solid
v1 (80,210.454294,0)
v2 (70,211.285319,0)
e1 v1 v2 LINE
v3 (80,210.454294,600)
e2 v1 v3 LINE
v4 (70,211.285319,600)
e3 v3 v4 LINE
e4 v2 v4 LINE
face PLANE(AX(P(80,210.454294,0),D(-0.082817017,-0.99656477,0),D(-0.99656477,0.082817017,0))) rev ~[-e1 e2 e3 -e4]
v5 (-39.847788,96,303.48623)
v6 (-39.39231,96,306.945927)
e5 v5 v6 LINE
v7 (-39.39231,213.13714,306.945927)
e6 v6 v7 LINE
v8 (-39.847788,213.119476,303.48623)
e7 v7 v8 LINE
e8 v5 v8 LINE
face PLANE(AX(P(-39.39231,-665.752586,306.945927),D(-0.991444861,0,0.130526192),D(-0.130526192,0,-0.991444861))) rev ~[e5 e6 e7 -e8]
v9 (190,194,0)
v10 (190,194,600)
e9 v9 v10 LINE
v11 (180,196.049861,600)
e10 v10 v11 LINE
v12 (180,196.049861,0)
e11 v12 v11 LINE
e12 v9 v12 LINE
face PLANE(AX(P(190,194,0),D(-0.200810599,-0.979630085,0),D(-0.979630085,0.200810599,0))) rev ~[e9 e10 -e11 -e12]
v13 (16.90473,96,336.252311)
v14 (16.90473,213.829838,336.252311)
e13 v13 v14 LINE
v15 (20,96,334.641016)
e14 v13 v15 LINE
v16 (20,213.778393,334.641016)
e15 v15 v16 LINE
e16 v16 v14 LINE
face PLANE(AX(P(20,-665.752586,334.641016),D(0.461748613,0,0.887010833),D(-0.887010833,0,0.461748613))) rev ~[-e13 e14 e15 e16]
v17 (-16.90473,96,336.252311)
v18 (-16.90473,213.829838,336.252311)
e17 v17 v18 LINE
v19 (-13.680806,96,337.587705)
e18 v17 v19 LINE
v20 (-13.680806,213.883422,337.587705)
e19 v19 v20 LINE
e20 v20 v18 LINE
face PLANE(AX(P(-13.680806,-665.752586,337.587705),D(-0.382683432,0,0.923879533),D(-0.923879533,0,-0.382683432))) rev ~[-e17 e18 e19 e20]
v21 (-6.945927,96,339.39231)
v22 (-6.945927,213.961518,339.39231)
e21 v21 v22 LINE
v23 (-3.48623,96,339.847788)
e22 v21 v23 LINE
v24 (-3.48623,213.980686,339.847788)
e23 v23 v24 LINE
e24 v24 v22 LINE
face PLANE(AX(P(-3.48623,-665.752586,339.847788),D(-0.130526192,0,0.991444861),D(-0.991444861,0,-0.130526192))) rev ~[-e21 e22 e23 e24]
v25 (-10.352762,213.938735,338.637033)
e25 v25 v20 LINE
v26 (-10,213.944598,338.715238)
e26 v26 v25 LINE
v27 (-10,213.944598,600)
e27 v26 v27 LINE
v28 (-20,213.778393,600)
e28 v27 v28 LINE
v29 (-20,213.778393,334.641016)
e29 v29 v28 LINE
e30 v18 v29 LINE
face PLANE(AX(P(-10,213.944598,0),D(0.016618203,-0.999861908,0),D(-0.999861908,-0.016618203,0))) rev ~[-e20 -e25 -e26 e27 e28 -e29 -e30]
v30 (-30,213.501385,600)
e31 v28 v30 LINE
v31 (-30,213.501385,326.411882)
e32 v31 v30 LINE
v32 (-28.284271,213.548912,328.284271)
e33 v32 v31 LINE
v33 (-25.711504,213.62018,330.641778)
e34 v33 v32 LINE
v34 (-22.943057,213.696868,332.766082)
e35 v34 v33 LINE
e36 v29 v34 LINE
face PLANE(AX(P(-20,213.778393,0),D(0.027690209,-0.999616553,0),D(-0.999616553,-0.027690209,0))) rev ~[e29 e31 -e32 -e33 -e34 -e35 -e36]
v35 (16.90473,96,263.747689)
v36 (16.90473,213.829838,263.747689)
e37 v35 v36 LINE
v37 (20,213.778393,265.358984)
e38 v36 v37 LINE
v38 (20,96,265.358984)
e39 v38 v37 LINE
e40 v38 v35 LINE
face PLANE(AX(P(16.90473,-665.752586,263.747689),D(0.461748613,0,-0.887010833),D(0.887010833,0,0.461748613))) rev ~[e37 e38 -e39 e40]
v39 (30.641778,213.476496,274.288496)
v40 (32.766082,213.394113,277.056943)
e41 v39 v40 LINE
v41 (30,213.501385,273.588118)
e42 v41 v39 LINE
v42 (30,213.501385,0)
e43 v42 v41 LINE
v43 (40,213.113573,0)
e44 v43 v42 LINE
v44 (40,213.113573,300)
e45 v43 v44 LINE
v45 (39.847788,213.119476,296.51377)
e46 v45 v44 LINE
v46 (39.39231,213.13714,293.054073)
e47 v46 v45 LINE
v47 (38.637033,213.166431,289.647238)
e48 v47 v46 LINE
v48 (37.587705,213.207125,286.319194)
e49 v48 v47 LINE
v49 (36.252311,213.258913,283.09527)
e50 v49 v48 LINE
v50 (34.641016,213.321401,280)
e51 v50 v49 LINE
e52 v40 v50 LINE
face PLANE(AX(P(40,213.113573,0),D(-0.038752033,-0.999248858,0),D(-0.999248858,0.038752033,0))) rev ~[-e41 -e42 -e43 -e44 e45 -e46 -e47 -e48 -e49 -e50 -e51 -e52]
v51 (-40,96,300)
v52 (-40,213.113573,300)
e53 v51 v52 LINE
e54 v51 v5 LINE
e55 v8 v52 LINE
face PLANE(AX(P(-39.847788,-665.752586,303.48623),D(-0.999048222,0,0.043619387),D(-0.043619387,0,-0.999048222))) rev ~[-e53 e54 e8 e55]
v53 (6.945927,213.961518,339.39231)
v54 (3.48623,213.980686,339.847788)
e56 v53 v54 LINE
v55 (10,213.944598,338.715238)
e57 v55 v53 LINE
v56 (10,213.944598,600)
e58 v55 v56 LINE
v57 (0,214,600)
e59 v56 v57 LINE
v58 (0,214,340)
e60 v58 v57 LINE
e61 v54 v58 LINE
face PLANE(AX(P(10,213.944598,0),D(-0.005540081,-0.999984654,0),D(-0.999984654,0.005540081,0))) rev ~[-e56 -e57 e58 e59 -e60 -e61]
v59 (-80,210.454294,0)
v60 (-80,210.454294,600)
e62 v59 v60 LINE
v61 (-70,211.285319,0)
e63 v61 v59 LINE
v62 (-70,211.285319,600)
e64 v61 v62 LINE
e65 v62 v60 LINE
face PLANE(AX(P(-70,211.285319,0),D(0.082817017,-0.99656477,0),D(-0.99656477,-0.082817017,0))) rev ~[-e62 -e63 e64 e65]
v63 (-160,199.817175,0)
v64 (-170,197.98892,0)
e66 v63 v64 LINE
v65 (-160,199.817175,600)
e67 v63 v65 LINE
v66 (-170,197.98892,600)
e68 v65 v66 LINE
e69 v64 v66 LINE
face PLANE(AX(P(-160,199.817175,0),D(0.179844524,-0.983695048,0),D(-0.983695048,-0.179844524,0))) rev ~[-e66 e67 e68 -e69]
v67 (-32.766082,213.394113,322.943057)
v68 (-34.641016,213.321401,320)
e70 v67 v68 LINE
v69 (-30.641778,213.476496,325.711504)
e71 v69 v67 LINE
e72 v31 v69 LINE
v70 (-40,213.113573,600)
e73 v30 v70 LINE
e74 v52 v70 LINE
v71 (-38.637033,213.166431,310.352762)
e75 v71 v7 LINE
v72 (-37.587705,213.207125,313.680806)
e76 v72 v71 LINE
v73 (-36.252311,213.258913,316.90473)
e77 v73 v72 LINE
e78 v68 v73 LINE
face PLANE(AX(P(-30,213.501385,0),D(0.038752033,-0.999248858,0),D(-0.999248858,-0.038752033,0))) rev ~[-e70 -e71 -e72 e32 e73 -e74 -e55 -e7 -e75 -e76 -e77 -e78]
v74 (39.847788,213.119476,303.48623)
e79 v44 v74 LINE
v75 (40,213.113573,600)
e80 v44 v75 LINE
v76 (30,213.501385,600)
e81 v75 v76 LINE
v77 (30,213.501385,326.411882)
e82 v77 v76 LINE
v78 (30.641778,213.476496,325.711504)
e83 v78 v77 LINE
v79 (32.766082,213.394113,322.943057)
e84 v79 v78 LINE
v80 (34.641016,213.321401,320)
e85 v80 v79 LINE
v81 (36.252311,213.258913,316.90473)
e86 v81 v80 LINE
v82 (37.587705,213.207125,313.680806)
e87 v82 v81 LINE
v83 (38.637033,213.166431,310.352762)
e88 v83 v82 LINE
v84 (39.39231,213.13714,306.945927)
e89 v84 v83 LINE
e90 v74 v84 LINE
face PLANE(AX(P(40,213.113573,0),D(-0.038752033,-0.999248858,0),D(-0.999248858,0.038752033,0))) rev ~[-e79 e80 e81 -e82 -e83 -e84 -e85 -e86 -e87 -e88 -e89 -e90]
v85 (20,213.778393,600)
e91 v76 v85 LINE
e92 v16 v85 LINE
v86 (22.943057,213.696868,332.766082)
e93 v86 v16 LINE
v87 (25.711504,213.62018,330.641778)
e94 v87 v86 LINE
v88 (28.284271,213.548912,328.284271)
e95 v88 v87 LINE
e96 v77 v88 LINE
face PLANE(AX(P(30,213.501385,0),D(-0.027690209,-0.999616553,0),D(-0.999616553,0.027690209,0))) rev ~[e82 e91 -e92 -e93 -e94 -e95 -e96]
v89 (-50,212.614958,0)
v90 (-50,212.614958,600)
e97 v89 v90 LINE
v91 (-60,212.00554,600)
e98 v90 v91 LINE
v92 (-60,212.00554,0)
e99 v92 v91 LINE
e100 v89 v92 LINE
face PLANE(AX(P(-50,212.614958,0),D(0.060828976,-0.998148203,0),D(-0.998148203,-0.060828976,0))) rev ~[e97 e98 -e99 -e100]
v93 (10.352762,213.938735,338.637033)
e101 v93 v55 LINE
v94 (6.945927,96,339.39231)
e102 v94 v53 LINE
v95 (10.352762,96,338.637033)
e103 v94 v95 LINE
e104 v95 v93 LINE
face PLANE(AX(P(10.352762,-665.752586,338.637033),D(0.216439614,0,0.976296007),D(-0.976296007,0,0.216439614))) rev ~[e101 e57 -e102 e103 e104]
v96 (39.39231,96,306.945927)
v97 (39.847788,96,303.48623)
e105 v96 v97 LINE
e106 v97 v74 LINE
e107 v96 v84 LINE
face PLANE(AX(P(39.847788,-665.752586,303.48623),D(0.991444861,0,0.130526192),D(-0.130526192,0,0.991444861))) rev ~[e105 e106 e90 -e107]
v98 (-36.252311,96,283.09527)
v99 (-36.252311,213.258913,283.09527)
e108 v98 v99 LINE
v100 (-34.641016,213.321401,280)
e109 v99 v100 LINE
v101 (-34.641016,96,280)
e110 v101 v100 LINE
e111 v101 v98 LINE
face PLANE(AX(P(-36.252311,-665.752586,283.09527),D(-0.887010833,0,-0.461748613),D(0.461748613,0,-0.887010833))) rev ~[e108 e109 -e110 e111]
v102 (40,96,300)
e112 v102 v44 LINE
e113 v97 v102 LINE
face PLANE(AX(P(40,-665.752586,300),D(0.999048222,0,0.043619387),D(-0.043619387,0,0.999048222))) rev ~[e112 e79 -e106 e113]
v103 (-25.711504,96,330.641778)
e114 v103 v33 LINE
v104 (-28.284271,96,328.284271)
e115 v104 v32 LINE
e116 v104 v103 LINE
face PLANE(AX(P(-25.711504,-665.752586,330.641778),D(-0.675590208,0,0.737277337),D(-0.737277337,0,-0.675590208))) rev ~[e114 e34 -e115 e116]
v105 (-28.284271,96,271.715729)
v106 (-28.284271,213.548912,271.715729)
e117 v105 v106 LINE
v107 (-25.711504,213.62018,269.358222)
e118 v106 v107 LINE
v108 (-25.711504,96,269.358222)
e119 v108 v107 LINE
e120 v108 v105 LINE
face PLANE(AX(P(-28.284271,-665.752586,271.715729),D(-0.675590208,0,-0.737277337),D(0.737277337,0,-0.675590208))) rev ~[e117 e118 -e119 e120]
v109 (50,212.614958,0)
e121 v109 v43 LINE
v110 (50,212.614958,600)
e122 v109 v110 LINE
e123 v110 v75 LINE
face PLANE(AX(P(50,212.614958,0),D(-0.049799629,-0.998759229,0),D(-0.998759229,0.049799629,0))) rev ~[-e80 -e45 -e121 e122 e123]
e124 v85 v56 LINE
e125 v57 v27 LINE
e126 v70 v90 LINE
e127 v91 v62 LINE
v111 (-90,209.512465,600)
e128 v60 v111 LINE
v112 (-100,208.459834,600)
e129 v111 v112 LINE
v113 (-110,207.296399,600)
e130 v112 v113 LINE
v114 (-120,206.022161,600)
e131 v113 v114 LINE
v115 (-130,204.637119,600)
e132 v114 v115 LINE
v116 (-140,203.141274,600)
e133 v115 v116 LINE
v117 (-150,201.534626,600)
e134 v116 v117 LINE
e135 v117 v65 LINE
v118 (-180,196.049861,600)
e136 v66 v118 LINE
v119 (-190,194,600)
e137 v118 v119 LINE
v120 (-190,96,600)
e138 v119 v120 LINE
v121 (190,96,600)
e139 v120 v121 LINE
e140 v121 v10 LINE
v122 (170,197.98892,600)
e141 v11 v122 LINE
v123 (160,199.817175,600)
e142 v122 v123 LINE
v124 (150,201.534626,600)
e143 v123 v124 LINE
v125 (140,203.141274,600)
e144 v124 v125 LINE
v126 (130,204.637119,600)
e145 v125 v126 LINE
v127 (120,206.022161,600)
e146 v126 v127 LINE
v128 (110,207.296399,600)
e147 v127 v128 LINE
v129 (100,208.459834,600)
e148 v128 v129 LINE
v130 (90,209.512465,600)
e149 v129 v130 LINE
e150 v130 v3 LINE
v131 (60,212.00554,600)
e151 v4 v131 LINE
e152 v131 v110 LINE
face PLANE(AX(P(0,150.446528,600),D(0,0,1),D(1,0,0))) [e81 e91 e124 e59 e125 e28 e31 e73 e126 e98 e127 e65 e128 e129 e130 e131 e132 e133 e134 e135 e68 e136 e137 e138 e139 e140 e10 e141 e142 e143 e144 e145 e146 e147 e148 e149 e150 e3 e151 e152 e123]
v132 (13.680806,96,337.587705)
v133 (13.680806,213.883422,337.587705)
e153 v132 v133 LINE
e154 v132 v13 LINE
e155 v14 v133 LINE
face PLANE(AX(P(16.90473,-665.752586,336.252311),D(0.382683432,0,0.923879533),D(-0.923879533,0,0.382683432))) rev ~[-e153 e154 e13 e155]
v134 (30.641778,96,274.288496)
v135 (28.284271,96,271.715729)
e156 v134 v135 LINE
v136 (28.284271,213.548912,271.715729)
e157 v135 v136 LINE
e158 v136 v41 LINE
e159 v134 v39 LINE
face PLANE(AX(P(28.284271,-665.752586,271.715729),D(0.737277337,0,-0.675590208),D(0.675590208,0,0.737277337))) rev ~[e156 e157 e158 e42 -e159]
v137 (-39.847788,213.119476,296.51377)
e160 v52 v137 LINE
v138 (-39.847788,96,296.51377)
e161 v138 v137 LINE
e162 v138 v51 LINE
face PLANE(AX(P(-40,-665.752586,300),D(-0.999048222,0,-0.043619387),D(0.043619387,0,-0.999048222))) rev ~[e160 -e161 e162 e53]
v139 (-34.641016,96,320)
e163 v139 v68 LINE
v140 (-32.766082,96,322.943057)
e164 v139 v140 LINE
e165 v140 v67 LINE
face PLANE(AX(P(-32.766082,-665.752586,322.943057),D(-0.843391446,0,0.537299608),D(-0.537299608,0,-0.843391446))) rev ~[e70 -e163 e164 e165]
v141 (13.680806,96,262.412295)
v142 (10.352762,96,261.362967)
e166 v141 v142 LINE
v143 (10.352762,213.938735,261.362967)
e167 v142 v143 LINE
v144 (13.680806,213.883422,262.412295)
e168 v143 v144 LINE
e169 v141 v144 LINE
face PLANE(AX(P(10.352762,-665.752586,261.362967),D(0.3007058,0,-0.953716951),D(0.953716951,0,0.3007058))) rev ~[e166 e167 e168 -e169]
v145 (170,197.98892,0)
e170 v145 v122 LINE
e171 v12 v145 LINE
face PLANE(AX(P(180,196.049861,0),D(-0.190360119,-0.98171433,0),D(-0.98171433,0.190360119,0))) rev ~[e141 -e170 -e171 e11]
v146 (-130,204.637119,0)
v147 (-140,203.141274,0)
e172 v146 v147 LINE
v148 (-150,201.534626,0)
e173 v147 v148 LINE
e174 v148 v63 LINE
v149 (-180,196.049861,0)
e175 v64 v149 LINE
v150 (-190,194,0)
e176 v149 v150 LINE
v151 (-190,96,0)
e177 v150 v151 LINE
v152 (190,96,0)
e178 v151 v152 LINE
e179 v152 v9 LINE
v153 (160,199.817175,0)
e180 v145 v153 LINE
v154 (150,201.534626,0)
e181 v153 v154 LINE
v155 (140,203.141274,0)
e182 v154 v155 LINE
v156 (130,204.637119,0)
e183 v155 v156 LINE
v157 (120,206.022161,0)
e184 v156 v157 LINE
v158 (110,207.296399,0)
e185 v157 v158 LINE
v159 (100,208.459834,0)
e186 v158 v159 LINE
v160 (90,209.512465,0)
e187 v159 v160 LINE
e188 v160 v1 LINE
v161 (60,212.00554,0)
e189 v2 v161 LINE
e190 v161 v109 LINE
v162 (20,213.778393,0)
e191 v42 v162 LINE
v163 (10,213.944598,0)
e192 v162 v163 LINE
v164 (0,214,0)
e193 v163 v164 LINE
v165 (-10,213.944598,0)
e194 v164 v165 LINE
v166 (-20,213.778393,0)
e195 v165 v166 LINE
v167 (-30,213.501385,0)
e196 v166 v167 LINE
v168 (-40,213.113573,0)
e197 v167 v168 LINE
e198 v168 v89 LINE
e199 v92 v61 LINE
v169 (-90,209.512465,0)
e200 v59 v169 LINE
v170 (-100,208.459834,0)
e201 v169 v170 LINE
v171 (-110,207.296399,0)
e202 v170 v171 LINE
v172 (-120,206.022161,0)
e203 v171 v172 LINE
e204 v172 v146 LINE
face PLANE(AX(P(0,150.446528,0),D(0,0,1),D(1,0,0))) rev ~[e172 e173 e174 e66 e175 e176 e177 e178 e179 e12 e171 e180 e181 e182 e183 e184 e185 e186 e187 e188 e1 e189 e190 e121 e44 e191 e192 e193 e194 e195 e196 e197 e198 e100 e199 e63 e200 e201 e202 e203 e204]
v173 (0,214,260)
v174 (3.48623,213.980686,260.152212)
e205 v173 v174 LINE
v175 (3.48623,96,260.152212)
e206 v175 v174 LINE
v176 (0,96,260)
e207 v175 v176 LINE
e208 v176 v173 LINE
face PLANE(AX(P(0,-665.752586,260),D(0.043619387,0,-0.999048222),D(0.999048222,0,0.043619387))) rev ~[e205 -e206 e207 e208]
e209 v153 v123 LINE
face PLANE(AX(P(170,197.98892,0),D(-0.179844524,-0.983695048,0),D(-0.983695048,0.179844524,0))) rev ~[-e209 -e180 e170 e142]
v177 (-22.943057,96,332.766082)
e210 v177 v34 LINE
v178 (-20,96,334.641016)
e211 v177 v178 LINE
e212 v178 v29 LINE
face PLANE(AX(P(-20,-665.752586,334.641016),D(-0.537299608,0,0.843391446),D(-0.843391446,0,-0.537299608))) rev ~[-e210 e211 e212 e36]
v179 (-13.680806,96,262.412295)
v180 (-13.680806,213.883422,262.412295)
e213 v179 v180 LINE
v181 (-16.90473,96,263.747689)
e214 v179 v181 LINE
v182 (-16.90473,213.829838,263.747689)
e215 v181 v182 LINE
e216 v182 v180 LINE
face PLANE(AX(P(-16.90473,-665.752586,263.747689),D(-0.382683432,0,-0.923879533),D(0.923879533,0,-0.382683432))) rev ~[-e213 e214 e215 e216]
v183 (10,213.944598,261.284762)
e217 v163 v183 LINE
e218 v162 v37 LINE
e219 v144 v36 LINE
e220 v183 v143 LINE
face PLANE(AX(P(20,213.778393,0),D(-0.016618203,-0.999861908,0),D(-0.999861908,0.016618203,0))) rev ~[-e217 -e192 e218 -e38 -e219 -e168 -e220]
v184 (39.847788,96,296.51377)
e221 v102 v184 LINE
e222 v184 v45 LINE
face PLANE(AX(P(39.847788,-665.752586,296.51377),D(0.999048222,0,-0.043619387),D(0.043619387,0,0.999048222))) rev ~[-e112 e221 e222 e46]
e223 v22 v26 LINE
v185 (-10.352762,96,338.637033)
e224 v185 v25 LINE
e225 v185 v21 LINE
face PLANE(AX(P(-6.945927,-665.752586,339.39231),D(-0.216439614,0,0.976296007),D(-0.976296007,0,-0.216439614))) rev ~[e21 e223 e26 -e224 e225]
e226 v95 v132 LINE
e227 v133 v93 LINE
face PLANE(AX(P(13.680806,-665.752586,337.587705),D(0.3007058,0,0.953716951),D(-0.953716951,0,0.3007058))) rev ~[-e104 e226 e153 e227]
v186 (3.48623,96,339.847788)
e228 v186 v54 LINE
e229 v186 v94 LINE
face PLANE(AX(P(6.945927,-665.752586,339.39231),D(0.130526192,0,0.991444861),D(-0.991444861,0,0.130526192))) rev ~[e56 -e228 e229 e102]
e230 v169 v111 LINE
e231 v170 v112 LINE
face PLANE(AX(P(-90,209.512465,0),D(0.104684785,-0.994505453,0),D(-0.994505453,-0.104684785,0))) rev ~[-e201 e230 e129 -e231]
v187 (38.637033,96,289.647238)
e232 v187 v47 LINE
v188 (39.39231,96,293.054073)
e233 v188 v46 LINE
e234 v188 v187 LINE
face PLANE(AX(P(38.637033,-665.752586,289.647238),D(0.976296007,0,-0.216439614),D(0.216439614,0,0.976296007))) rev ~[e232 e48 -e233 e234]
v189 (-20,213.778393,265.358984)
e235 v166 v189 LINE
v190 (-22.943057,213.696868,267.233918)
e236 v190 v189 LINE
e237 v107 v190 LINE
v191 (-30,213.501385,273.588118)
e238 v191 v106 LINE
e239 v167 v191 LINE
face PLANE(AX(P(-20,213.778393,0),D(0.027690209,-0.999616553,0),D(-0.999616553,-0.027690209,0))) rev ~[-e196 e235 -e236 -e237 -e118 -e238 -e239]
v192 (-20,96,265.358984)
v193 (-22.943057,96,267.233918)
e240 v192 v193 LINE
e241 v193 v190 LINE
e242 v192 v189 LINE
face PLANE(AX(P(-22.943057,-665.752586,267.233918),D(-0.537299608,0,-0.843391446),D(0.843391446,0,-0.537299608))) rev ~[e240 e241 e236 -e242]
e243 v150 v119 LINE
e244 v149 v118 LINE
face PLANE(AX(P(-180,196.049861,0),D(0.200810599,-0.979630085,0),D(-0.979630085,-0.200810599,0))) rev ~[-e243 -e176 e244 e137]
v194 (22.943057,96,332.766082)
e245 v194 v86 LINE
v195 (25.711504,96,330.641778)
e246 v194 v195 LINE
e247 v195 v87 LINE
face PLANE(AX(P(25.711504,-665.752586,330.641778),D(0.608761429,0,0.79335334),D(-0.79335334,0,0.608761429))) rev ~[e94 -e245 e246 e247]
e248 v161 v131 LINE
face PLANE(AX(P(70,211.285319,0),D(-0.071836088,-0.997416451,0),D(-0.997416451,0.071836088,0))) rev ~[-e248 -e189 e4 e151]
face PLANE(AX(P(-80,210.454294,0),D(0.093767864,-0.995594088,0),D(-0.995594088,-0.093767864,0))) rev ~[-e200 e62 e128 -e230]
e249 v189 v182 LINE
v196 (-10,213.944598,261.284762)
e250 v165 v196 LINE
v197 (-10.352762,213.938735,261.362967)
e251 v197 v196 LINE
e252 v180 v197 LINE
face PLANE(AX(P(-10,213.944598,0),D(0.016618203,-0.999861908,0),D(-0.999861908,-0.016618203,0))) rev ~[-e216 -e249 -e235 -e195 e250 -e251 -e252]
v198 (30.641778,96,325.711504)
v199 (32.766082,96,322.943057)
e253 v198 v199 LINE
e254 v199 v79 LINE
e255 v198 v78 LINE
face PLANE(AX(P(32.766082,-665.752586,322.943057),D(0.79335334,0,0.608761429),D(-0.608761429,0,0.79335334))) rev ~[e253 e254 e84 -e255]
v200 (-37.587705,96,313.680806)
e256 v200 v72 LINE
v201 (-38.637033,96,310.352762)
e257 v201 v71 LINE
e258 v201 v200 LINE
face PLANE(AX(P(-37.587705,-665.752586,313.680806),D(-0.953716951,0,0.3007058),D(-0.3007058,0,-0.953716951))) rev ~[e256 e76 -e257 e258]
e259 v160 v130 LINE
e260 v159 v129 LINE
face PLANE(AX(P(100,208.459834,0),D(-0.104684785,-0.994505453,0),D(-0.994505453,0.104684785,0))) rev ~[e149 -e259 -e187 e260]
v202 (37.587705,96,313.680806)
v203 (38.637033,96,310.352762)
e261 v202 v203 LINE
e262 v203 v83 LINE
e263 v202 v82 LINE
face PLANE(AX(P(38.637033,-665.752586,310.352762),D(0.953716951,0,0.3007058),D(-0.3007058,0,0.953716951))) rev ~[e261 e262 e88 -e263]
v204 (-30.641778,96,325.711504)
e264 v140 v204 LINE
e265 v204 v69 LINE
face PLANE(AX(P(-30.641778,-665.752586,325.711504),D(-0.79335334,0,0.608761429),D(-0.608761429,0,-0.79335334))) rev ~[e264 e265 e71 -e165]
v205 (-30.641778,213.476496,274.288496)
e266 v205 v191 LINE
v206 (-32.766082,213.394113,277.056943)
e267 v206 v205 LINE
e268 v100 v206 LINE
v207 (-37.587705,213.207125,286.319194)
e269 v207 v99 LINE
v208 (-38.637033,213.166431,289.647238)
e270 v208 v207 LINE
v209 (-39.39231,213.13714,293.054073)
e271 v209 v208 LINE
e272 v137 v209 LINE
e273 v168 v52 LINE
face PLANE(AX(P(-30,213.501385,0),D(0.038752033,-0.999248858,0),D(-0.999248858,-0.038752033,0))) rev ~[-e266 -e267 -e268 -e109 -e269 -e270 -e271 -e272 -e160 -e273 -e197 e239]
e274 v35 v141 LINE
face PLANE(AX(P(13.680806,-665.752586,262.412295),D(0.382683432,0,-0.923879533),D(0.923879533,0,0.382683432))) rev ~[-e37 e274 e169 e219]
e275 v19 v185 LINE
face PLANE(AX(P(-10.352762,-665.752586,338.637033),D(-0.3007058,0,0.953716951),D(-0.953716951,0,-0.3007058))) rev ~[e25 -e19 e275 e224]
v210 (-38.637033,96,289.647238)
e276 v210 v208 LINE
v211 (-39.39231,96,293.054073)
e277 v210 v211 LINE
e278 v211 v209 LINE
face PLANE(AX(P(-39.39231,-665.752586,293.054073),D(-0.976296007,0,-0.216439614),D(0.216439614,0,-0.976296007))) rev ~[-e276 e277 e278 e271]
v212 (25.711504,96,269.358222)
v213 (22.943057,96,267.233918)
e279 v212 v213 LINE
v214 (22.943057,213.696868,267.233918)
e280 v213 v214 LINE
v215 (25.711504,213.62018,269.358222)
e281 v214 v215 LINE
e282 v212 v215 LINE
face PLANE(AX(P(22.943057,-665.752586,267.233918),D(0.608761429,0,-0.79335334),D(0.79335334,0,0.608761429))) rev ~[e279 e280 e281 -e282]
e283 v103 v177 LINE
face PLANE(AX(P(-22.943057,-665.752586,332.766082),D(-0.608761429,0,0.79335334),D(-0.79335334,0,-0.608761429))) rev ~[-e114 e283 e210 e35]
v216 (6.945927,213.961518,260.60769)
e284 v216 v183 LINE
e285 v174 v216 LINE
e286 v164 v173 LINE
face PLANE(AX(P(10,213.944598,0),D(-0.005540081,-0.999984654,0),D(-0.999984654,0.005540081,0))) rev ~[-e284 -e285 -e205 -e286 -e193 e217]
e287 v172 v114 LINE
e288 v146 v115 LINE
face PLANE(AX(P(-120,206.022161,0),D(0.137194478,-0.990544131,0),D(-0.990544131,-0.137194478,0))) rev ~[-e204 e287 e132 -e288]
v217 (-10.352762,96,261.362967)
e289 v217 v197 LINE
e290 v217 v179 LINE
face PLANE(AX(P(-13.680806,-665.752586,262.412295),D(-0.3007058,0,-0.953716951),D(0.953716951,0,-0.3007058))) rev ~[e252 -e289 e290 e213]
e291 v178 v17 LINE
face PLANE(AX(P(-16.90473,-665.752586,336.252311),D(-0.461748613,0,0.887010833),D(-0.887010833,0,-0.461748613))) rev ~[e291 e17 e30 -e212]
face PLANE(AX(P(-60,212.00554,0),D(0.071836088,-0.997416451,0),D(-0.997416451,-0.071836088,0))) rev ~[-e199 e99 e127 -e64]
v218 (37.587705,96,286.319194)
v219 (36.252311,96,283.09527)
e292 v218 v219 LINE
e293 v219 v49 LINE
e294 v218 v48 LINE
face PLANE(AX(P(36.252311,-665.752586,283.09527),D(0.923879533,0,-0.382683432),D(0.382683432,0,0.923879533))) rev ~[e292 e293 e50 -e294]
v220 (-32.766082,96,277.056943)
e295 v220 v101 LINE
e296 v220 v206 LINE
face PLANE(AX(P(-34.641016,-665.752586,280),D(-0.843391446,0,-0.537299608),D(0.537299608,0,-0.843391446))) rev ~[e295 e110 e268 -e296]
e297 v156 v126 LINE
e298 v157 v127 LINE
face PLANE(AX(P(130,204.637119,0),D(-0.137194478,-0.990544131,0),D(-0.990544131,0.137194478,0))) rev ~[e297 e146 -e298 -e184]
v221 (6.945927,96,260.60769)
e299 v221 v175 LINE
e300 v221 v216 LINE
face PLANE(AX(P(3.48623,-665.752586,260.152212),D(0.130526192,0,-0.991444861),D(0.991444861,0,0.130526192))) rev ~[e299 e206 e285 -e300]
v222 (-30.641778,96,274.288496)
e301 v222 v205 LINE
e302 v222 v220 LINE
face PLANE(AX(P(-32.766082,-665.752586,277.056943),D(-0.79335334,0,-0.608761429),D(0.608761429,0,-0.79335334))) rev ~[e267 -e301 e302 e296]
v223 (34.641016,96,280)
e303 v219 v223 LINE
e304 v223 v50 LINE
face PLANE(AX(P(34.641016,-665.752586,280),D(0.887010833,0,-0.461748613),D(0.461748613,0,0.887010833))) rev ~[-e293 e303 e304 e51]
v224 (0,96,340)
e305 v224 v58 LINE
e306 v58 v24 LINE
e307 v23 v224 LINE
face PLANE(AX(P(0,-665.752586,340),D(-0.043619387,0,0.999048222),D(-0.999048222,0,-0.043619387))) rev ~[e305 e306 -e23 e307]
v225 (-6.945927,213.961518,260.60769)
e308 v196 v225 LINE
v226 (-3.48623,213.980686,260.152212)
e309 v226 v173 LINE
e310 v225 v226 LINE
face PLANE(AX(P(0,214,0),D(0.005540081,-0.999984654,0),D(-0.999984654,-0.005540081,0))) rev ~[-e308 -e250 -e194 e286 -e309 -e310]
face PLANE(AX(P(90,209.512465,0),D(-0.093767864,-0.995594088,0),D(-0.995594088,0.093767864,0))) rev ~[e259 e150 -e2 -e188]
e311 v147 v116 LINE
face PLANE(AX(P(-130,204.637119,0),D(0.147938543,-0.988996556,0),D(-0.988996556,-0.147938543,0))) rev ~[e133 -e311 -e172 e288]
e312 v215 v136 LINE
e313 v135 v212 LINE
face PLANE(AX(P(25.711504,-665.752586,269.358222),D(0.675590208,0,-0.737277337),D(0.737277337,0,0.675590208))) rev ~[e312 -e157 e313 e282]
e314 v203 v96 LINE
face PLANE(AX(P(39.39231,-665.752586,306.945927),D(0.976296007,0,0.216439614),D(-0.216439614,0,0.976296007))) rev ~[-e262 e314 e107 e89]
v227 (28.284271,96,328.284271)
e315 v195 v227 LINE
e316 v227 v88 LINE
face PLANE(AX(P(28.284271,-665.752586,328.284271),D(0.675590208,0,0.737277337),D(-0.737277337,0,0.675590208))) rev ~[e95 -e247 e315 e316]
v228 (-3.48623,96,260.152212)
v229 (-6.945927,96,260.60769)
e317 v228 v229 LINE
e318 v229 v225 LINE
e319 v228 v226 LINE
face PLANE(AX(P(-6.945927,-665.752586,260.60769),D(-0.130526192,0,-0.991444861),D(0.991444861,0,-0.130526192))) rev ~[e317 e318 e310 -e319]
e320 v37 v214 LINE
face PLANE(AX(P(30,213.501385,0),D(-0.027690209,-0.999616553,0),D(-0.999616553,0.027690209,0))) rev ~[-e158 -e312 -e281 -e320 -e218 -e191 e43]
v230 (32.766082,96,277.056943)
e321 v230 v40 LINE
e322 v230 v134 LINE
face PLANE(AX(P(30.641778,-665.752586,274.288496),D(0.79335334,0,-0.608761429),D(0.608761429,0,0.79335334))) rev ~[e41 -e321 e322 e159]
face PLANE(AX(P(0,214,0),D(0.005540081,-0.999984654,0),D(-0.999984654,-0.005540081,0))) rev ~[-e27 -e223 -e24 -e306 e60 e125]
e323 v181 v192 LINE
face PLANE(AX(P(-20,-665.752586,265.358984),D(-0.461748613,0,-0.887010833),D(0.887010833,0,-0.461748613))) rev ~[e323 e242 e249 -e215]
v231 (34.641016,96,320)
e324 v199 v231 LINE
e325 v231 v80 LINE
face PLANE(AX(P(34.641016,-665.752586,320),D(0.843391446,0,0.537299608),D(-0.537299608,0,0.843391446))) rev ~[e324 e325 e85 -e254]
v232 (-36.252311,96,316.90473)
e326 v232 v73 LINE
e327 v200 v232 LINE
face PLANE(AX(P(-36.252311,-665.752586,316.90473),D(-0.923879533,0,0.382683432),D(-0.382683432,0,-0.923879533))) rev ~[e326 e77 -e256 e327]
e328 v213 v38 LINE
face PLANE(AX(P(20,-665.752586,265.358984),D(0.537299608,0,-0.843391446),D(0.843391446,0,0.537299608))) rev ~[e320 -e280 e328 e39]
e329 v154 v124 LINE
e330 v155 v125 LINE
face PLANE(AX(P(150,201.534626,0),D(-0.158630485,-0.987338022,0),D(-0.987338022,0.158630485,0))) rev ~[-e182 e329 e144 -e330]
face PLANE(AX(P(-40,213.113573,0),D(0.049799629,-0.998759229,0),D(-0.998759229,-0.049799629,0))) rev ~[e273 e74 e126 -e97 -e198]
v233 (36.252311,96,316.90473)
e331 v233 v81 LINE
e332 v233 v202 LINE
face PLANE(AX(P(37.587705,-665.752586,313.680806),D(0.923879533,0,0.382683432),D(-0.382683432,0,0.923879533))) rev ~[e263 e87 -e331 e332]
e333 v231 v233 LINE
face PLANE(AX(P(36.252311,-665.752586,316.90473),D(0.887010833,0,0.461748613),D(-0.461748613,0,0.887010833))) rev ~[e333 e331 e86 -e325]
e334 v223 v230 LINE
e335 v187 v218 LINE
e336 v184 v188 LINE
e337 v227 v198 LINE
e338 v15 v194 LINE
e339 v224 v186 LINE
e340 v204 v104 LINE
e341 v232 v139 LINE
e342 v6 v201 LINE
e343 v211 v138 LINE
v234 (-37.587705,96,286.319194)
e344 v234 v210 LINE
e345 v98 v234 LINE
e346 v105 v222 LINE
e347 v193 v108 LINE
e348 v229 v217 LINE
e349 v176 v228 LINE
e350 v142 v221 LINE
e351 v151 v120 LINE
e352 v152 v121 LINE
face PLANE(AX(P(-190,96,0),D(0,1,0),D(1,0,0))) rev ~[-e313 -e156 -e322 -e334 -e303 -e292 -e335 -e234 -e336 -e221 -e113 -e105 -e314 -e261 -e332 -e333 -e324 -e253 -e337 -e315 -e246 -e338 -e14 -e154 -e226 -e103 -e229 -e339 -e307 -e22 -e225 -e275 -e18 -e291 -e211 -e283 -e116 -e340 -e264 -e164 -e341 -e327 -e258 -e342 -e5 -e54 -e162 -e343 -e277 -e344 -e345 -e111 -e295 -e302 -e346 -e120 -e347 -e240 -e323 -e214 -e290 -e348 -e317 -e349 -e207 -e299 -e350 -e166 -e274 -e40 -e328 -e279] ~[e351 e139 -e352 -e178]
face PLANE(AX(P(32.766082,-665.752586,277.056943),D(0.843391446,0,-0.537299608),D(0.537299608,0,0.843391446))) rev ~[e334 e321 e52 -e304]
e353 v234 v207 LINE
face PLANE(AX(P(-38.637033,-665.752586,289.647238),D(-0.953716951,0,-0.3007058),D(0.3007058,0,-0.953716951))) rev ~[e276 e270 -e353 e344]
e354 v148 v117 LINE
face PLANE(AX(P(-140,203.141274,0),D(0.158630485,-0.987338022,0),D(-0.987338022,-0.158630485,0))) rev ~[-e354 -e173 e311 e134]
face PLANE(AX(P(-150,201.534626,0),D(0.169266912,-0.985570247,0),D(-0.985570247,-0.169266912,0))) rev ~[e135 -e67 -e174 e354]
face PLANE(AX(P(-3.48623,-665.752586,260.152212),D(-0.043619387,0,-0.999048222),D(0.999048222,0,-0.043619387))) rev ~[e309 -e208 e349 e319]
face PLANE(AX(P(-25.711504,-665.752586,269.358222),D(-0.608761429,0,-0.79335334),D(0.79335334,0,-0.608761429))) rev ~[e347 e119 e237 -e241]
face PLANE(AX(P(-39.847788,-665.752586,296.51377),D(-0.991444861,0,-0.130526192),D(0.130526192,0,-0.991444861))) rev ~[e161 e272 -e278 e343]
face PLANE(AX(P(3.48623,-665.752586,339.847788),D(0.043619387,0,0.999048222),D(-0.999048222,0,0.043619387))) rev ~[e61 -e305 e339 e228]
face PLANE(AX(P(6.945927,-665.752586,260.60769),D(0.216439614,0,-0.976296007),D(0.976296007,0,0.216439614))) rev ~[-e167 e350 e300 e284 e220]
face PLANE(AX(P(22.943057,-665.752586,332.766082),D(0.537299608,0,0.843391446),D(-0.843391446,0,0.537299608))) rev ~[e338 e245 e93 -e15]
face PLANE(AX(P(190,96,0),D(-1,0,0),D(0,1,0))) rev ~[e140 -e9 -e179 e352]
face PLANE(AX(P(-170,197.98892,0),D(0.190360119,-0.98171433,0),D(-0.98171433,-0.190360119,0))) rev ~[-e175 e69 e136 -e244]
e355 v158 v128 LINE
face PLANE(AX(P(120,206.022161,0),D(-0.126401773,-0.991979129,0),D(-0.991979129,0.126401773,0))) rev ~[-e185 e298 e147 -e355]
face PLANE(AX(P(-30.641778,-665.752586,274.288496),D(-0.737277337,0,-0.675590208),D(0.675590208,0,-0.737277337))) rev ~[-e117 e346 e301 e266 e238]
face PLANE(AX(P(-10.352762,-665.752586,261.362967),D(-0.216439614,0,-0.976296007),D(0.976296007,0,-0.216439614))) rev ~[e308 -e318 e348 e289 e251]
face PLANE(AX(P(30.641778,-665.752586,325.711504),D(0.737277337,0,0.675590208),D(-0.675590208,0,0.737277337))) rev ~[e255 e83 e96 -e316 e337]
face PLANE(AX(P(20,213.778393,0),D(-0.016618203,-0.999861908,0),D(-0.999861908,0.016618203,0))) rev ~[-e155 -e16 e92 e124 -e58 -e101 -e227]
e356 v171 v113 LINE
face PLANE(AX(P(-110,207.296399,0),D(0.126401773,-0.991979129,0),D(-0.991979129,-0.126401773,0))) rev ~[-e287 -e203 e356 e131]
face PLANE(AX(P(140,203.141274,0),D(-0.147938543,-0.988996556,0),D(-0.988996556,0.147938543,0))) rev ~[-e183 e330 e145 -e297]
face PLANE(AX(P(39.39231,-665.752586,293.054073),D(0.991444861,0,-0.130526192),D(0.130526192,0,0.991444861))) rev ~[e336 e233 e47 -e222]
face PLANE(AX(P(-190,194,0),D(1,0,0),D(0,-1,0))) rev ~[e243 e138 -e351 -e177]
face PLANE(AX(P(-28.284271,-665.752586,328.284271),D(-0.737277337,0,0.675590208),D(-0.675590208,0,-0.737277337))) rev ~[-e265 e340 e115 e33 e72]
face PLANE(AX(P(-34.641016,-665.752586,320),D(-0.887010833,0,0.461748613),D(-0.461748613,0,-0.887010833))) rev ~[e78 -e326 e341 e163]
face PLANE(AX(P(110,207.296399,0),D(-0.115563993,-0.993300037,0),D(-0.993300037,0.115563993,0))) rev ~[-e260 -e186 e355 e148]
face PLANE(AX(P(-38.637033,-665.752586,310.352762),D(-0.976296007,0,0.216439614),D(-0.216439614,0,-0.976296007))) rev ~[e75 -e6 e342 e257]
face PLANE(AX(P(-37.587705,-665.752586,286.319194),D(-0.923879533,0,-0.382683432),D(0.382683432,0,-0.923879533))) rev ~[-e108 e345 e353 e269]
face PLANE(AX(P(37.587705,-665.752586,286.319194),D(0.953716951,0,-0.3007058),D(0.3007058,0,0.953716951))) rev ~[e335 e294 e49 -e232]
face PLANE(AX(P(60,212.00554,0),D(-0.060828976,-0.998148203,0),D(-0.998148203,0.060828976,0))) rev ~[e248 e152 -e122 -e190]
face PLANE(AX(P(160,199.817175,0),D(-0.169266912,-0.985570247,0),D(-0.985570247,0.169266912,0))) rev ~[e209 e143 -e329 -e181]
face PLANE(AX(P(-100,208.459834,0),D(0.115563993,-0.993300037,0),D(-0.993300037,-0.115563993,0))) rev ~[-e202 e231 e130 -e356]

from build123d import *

# Parameters (mm, degrees)
ARCHED_FLOAT_DEPTH             = 600
TETHER_PASS_THROUGH_DEPTH      = 665.752585553
TETHER_PASS_THROUGH_DEPTH_BACK = 665.752585553


with BuildPart() as part:
    # 草图1 → Arched_float (new body)
    with BuildSketch(Plane.XY):
        Polygon((-190, 96), (190, 96), (190, 194), (180, 196.049861496), (170, 197.988919668), (160, 199.817174515), (150, 201.534626039), (140, 203.141274238), (130, 204.637119114), (120, 206.022160665), (110, 207.296398892), (100, 208.459833795), (90, 209.512465374), (80, 210.454293629), (70, 211.28531856), (60, 212.005540166), (50, 212.614958449), (40, 213.113573407), (30, 213.501385042), (20, 213.778393352), (10, 213.944598338), (0, 214), (-10, 213.944598338), (-20, 213.778393352), (-30, 213.501385042), (-40, 213.113573407), (-50, 212.614958449), (-60, 212.005540166), (-70, 211.28531856), (-80, 210.454293629), (-90, 209.512465374), (-100, 208.459833795), (-110, 207.296398892), (-120, 206.022160665), (-130, 204.637119114), (-140, 203.141274238), (-150, 201.534626039), (-160, 199.817174515), (-170, 197.988919668), (-180, 196.049861496), (-190, 194), align=None)
    extrude(amount=ARCHED_FLOAT_DEPTH)

    # 草图2 → Tether_pass_through (cut, two sides: drawn at the far end of the back side and taken through both)
    with BuildSketch(Plane(origin=(0, 0, 0), x_dir=(1, 0, 0), z_dir=(0, 1, 0)).offset(-TETHER_PASS_THROUGH_DEPTH_BACK)):
        Polygon((40, -300), (39.847787924, -303.48622971), (39.39231012, -306.945927107), (38.637033052, -310.352761804), (37.587704831, -313.680805733), (36.252311481, -316.90473047), (34.641016151, -320), (32.766081772, -322.943057454), (30.641777725, -325.711504387), (28.284271247, -328.284271247), (25.711504387, -330.641777725), (22.943057454, -332.766081772), (20, -334.641016151), (16.90473047, -336.252311481), (13.680805733, -337.587704831), (10.352761804, -338.637033052), (6.945927107, -339.39231012), (3.48622971, -339.847787924), (0, -340), (-3.48622971, -339.847787924), (-6.945927107, -339.39231012), (-10.352761804, -338.637033052), (-13.680805733, -337.587704831), (-16.90473047, -336.252311481), (-20, -334.641016151), (-22.943057454, -332.766081772), (-25.711504387, -330.641777725), (-28.284271247, -328.284271247), (-30.641777725, -325.711504387), (-32.766081772, -322.943057454), (-34.641016151, -320), (-36.252311481, -316.90473047), (-37.587704831, -313.680805733), (-38.637033052, -310.352761804), (-39.39231012, -306.945927107), (-39.847787924, -303.48622971), (-40, -300), (-39.847787924, -296.51377029), (-39.39231012, -293.054072893), (-38.637033052, -289.647238196), (-37.587704831, -286.319194267), (-36.252311481, -283.09526953), (-34.641016151, -280), (-32.766081772, -277.056942546), (-30.641777725, -274.288495613), (-28.284271247, -271.715728753), (-25.711504387, -269.358222275), (-22.943057454, -267.233918228), (-20, -265.358983849), (-16.90473047, -263.747688519), (-13.680805733, -262.412295169), (-10.352761804, -261.362966948), (-6.945927107, -260.60768988), (-3.48622971, -260.152212076), (0, -260), (3.48622971, -260.152212076), (6.945927107, -260.60768988), (10.352761804, -261.362966948), (13.680805733, -262.412295169), (16.90473047, -263.747688519), (20, -265.358983849), (22.943057454, -267.233918228), (25.711504387, -269.358222275), (28.284271247, -271.715728753), (30.641777725, -274.288495613), (32.766081772, -277.056942546), (34.641016151, -280), (36.252311481, -283.09526953), (37.587704831, -286.319194267), (38.637033052, -289.647238196), (39.39231012, -293.054072893), (39.847787924, -296.51377029), align=None)
    extrude(amount=TETHER_PASS_THROUGH_DEPTH + TETHER_PASS_THROUGH_DEPTH_BACK, mode=Mode.SUBTRACT)


solid = part.part
